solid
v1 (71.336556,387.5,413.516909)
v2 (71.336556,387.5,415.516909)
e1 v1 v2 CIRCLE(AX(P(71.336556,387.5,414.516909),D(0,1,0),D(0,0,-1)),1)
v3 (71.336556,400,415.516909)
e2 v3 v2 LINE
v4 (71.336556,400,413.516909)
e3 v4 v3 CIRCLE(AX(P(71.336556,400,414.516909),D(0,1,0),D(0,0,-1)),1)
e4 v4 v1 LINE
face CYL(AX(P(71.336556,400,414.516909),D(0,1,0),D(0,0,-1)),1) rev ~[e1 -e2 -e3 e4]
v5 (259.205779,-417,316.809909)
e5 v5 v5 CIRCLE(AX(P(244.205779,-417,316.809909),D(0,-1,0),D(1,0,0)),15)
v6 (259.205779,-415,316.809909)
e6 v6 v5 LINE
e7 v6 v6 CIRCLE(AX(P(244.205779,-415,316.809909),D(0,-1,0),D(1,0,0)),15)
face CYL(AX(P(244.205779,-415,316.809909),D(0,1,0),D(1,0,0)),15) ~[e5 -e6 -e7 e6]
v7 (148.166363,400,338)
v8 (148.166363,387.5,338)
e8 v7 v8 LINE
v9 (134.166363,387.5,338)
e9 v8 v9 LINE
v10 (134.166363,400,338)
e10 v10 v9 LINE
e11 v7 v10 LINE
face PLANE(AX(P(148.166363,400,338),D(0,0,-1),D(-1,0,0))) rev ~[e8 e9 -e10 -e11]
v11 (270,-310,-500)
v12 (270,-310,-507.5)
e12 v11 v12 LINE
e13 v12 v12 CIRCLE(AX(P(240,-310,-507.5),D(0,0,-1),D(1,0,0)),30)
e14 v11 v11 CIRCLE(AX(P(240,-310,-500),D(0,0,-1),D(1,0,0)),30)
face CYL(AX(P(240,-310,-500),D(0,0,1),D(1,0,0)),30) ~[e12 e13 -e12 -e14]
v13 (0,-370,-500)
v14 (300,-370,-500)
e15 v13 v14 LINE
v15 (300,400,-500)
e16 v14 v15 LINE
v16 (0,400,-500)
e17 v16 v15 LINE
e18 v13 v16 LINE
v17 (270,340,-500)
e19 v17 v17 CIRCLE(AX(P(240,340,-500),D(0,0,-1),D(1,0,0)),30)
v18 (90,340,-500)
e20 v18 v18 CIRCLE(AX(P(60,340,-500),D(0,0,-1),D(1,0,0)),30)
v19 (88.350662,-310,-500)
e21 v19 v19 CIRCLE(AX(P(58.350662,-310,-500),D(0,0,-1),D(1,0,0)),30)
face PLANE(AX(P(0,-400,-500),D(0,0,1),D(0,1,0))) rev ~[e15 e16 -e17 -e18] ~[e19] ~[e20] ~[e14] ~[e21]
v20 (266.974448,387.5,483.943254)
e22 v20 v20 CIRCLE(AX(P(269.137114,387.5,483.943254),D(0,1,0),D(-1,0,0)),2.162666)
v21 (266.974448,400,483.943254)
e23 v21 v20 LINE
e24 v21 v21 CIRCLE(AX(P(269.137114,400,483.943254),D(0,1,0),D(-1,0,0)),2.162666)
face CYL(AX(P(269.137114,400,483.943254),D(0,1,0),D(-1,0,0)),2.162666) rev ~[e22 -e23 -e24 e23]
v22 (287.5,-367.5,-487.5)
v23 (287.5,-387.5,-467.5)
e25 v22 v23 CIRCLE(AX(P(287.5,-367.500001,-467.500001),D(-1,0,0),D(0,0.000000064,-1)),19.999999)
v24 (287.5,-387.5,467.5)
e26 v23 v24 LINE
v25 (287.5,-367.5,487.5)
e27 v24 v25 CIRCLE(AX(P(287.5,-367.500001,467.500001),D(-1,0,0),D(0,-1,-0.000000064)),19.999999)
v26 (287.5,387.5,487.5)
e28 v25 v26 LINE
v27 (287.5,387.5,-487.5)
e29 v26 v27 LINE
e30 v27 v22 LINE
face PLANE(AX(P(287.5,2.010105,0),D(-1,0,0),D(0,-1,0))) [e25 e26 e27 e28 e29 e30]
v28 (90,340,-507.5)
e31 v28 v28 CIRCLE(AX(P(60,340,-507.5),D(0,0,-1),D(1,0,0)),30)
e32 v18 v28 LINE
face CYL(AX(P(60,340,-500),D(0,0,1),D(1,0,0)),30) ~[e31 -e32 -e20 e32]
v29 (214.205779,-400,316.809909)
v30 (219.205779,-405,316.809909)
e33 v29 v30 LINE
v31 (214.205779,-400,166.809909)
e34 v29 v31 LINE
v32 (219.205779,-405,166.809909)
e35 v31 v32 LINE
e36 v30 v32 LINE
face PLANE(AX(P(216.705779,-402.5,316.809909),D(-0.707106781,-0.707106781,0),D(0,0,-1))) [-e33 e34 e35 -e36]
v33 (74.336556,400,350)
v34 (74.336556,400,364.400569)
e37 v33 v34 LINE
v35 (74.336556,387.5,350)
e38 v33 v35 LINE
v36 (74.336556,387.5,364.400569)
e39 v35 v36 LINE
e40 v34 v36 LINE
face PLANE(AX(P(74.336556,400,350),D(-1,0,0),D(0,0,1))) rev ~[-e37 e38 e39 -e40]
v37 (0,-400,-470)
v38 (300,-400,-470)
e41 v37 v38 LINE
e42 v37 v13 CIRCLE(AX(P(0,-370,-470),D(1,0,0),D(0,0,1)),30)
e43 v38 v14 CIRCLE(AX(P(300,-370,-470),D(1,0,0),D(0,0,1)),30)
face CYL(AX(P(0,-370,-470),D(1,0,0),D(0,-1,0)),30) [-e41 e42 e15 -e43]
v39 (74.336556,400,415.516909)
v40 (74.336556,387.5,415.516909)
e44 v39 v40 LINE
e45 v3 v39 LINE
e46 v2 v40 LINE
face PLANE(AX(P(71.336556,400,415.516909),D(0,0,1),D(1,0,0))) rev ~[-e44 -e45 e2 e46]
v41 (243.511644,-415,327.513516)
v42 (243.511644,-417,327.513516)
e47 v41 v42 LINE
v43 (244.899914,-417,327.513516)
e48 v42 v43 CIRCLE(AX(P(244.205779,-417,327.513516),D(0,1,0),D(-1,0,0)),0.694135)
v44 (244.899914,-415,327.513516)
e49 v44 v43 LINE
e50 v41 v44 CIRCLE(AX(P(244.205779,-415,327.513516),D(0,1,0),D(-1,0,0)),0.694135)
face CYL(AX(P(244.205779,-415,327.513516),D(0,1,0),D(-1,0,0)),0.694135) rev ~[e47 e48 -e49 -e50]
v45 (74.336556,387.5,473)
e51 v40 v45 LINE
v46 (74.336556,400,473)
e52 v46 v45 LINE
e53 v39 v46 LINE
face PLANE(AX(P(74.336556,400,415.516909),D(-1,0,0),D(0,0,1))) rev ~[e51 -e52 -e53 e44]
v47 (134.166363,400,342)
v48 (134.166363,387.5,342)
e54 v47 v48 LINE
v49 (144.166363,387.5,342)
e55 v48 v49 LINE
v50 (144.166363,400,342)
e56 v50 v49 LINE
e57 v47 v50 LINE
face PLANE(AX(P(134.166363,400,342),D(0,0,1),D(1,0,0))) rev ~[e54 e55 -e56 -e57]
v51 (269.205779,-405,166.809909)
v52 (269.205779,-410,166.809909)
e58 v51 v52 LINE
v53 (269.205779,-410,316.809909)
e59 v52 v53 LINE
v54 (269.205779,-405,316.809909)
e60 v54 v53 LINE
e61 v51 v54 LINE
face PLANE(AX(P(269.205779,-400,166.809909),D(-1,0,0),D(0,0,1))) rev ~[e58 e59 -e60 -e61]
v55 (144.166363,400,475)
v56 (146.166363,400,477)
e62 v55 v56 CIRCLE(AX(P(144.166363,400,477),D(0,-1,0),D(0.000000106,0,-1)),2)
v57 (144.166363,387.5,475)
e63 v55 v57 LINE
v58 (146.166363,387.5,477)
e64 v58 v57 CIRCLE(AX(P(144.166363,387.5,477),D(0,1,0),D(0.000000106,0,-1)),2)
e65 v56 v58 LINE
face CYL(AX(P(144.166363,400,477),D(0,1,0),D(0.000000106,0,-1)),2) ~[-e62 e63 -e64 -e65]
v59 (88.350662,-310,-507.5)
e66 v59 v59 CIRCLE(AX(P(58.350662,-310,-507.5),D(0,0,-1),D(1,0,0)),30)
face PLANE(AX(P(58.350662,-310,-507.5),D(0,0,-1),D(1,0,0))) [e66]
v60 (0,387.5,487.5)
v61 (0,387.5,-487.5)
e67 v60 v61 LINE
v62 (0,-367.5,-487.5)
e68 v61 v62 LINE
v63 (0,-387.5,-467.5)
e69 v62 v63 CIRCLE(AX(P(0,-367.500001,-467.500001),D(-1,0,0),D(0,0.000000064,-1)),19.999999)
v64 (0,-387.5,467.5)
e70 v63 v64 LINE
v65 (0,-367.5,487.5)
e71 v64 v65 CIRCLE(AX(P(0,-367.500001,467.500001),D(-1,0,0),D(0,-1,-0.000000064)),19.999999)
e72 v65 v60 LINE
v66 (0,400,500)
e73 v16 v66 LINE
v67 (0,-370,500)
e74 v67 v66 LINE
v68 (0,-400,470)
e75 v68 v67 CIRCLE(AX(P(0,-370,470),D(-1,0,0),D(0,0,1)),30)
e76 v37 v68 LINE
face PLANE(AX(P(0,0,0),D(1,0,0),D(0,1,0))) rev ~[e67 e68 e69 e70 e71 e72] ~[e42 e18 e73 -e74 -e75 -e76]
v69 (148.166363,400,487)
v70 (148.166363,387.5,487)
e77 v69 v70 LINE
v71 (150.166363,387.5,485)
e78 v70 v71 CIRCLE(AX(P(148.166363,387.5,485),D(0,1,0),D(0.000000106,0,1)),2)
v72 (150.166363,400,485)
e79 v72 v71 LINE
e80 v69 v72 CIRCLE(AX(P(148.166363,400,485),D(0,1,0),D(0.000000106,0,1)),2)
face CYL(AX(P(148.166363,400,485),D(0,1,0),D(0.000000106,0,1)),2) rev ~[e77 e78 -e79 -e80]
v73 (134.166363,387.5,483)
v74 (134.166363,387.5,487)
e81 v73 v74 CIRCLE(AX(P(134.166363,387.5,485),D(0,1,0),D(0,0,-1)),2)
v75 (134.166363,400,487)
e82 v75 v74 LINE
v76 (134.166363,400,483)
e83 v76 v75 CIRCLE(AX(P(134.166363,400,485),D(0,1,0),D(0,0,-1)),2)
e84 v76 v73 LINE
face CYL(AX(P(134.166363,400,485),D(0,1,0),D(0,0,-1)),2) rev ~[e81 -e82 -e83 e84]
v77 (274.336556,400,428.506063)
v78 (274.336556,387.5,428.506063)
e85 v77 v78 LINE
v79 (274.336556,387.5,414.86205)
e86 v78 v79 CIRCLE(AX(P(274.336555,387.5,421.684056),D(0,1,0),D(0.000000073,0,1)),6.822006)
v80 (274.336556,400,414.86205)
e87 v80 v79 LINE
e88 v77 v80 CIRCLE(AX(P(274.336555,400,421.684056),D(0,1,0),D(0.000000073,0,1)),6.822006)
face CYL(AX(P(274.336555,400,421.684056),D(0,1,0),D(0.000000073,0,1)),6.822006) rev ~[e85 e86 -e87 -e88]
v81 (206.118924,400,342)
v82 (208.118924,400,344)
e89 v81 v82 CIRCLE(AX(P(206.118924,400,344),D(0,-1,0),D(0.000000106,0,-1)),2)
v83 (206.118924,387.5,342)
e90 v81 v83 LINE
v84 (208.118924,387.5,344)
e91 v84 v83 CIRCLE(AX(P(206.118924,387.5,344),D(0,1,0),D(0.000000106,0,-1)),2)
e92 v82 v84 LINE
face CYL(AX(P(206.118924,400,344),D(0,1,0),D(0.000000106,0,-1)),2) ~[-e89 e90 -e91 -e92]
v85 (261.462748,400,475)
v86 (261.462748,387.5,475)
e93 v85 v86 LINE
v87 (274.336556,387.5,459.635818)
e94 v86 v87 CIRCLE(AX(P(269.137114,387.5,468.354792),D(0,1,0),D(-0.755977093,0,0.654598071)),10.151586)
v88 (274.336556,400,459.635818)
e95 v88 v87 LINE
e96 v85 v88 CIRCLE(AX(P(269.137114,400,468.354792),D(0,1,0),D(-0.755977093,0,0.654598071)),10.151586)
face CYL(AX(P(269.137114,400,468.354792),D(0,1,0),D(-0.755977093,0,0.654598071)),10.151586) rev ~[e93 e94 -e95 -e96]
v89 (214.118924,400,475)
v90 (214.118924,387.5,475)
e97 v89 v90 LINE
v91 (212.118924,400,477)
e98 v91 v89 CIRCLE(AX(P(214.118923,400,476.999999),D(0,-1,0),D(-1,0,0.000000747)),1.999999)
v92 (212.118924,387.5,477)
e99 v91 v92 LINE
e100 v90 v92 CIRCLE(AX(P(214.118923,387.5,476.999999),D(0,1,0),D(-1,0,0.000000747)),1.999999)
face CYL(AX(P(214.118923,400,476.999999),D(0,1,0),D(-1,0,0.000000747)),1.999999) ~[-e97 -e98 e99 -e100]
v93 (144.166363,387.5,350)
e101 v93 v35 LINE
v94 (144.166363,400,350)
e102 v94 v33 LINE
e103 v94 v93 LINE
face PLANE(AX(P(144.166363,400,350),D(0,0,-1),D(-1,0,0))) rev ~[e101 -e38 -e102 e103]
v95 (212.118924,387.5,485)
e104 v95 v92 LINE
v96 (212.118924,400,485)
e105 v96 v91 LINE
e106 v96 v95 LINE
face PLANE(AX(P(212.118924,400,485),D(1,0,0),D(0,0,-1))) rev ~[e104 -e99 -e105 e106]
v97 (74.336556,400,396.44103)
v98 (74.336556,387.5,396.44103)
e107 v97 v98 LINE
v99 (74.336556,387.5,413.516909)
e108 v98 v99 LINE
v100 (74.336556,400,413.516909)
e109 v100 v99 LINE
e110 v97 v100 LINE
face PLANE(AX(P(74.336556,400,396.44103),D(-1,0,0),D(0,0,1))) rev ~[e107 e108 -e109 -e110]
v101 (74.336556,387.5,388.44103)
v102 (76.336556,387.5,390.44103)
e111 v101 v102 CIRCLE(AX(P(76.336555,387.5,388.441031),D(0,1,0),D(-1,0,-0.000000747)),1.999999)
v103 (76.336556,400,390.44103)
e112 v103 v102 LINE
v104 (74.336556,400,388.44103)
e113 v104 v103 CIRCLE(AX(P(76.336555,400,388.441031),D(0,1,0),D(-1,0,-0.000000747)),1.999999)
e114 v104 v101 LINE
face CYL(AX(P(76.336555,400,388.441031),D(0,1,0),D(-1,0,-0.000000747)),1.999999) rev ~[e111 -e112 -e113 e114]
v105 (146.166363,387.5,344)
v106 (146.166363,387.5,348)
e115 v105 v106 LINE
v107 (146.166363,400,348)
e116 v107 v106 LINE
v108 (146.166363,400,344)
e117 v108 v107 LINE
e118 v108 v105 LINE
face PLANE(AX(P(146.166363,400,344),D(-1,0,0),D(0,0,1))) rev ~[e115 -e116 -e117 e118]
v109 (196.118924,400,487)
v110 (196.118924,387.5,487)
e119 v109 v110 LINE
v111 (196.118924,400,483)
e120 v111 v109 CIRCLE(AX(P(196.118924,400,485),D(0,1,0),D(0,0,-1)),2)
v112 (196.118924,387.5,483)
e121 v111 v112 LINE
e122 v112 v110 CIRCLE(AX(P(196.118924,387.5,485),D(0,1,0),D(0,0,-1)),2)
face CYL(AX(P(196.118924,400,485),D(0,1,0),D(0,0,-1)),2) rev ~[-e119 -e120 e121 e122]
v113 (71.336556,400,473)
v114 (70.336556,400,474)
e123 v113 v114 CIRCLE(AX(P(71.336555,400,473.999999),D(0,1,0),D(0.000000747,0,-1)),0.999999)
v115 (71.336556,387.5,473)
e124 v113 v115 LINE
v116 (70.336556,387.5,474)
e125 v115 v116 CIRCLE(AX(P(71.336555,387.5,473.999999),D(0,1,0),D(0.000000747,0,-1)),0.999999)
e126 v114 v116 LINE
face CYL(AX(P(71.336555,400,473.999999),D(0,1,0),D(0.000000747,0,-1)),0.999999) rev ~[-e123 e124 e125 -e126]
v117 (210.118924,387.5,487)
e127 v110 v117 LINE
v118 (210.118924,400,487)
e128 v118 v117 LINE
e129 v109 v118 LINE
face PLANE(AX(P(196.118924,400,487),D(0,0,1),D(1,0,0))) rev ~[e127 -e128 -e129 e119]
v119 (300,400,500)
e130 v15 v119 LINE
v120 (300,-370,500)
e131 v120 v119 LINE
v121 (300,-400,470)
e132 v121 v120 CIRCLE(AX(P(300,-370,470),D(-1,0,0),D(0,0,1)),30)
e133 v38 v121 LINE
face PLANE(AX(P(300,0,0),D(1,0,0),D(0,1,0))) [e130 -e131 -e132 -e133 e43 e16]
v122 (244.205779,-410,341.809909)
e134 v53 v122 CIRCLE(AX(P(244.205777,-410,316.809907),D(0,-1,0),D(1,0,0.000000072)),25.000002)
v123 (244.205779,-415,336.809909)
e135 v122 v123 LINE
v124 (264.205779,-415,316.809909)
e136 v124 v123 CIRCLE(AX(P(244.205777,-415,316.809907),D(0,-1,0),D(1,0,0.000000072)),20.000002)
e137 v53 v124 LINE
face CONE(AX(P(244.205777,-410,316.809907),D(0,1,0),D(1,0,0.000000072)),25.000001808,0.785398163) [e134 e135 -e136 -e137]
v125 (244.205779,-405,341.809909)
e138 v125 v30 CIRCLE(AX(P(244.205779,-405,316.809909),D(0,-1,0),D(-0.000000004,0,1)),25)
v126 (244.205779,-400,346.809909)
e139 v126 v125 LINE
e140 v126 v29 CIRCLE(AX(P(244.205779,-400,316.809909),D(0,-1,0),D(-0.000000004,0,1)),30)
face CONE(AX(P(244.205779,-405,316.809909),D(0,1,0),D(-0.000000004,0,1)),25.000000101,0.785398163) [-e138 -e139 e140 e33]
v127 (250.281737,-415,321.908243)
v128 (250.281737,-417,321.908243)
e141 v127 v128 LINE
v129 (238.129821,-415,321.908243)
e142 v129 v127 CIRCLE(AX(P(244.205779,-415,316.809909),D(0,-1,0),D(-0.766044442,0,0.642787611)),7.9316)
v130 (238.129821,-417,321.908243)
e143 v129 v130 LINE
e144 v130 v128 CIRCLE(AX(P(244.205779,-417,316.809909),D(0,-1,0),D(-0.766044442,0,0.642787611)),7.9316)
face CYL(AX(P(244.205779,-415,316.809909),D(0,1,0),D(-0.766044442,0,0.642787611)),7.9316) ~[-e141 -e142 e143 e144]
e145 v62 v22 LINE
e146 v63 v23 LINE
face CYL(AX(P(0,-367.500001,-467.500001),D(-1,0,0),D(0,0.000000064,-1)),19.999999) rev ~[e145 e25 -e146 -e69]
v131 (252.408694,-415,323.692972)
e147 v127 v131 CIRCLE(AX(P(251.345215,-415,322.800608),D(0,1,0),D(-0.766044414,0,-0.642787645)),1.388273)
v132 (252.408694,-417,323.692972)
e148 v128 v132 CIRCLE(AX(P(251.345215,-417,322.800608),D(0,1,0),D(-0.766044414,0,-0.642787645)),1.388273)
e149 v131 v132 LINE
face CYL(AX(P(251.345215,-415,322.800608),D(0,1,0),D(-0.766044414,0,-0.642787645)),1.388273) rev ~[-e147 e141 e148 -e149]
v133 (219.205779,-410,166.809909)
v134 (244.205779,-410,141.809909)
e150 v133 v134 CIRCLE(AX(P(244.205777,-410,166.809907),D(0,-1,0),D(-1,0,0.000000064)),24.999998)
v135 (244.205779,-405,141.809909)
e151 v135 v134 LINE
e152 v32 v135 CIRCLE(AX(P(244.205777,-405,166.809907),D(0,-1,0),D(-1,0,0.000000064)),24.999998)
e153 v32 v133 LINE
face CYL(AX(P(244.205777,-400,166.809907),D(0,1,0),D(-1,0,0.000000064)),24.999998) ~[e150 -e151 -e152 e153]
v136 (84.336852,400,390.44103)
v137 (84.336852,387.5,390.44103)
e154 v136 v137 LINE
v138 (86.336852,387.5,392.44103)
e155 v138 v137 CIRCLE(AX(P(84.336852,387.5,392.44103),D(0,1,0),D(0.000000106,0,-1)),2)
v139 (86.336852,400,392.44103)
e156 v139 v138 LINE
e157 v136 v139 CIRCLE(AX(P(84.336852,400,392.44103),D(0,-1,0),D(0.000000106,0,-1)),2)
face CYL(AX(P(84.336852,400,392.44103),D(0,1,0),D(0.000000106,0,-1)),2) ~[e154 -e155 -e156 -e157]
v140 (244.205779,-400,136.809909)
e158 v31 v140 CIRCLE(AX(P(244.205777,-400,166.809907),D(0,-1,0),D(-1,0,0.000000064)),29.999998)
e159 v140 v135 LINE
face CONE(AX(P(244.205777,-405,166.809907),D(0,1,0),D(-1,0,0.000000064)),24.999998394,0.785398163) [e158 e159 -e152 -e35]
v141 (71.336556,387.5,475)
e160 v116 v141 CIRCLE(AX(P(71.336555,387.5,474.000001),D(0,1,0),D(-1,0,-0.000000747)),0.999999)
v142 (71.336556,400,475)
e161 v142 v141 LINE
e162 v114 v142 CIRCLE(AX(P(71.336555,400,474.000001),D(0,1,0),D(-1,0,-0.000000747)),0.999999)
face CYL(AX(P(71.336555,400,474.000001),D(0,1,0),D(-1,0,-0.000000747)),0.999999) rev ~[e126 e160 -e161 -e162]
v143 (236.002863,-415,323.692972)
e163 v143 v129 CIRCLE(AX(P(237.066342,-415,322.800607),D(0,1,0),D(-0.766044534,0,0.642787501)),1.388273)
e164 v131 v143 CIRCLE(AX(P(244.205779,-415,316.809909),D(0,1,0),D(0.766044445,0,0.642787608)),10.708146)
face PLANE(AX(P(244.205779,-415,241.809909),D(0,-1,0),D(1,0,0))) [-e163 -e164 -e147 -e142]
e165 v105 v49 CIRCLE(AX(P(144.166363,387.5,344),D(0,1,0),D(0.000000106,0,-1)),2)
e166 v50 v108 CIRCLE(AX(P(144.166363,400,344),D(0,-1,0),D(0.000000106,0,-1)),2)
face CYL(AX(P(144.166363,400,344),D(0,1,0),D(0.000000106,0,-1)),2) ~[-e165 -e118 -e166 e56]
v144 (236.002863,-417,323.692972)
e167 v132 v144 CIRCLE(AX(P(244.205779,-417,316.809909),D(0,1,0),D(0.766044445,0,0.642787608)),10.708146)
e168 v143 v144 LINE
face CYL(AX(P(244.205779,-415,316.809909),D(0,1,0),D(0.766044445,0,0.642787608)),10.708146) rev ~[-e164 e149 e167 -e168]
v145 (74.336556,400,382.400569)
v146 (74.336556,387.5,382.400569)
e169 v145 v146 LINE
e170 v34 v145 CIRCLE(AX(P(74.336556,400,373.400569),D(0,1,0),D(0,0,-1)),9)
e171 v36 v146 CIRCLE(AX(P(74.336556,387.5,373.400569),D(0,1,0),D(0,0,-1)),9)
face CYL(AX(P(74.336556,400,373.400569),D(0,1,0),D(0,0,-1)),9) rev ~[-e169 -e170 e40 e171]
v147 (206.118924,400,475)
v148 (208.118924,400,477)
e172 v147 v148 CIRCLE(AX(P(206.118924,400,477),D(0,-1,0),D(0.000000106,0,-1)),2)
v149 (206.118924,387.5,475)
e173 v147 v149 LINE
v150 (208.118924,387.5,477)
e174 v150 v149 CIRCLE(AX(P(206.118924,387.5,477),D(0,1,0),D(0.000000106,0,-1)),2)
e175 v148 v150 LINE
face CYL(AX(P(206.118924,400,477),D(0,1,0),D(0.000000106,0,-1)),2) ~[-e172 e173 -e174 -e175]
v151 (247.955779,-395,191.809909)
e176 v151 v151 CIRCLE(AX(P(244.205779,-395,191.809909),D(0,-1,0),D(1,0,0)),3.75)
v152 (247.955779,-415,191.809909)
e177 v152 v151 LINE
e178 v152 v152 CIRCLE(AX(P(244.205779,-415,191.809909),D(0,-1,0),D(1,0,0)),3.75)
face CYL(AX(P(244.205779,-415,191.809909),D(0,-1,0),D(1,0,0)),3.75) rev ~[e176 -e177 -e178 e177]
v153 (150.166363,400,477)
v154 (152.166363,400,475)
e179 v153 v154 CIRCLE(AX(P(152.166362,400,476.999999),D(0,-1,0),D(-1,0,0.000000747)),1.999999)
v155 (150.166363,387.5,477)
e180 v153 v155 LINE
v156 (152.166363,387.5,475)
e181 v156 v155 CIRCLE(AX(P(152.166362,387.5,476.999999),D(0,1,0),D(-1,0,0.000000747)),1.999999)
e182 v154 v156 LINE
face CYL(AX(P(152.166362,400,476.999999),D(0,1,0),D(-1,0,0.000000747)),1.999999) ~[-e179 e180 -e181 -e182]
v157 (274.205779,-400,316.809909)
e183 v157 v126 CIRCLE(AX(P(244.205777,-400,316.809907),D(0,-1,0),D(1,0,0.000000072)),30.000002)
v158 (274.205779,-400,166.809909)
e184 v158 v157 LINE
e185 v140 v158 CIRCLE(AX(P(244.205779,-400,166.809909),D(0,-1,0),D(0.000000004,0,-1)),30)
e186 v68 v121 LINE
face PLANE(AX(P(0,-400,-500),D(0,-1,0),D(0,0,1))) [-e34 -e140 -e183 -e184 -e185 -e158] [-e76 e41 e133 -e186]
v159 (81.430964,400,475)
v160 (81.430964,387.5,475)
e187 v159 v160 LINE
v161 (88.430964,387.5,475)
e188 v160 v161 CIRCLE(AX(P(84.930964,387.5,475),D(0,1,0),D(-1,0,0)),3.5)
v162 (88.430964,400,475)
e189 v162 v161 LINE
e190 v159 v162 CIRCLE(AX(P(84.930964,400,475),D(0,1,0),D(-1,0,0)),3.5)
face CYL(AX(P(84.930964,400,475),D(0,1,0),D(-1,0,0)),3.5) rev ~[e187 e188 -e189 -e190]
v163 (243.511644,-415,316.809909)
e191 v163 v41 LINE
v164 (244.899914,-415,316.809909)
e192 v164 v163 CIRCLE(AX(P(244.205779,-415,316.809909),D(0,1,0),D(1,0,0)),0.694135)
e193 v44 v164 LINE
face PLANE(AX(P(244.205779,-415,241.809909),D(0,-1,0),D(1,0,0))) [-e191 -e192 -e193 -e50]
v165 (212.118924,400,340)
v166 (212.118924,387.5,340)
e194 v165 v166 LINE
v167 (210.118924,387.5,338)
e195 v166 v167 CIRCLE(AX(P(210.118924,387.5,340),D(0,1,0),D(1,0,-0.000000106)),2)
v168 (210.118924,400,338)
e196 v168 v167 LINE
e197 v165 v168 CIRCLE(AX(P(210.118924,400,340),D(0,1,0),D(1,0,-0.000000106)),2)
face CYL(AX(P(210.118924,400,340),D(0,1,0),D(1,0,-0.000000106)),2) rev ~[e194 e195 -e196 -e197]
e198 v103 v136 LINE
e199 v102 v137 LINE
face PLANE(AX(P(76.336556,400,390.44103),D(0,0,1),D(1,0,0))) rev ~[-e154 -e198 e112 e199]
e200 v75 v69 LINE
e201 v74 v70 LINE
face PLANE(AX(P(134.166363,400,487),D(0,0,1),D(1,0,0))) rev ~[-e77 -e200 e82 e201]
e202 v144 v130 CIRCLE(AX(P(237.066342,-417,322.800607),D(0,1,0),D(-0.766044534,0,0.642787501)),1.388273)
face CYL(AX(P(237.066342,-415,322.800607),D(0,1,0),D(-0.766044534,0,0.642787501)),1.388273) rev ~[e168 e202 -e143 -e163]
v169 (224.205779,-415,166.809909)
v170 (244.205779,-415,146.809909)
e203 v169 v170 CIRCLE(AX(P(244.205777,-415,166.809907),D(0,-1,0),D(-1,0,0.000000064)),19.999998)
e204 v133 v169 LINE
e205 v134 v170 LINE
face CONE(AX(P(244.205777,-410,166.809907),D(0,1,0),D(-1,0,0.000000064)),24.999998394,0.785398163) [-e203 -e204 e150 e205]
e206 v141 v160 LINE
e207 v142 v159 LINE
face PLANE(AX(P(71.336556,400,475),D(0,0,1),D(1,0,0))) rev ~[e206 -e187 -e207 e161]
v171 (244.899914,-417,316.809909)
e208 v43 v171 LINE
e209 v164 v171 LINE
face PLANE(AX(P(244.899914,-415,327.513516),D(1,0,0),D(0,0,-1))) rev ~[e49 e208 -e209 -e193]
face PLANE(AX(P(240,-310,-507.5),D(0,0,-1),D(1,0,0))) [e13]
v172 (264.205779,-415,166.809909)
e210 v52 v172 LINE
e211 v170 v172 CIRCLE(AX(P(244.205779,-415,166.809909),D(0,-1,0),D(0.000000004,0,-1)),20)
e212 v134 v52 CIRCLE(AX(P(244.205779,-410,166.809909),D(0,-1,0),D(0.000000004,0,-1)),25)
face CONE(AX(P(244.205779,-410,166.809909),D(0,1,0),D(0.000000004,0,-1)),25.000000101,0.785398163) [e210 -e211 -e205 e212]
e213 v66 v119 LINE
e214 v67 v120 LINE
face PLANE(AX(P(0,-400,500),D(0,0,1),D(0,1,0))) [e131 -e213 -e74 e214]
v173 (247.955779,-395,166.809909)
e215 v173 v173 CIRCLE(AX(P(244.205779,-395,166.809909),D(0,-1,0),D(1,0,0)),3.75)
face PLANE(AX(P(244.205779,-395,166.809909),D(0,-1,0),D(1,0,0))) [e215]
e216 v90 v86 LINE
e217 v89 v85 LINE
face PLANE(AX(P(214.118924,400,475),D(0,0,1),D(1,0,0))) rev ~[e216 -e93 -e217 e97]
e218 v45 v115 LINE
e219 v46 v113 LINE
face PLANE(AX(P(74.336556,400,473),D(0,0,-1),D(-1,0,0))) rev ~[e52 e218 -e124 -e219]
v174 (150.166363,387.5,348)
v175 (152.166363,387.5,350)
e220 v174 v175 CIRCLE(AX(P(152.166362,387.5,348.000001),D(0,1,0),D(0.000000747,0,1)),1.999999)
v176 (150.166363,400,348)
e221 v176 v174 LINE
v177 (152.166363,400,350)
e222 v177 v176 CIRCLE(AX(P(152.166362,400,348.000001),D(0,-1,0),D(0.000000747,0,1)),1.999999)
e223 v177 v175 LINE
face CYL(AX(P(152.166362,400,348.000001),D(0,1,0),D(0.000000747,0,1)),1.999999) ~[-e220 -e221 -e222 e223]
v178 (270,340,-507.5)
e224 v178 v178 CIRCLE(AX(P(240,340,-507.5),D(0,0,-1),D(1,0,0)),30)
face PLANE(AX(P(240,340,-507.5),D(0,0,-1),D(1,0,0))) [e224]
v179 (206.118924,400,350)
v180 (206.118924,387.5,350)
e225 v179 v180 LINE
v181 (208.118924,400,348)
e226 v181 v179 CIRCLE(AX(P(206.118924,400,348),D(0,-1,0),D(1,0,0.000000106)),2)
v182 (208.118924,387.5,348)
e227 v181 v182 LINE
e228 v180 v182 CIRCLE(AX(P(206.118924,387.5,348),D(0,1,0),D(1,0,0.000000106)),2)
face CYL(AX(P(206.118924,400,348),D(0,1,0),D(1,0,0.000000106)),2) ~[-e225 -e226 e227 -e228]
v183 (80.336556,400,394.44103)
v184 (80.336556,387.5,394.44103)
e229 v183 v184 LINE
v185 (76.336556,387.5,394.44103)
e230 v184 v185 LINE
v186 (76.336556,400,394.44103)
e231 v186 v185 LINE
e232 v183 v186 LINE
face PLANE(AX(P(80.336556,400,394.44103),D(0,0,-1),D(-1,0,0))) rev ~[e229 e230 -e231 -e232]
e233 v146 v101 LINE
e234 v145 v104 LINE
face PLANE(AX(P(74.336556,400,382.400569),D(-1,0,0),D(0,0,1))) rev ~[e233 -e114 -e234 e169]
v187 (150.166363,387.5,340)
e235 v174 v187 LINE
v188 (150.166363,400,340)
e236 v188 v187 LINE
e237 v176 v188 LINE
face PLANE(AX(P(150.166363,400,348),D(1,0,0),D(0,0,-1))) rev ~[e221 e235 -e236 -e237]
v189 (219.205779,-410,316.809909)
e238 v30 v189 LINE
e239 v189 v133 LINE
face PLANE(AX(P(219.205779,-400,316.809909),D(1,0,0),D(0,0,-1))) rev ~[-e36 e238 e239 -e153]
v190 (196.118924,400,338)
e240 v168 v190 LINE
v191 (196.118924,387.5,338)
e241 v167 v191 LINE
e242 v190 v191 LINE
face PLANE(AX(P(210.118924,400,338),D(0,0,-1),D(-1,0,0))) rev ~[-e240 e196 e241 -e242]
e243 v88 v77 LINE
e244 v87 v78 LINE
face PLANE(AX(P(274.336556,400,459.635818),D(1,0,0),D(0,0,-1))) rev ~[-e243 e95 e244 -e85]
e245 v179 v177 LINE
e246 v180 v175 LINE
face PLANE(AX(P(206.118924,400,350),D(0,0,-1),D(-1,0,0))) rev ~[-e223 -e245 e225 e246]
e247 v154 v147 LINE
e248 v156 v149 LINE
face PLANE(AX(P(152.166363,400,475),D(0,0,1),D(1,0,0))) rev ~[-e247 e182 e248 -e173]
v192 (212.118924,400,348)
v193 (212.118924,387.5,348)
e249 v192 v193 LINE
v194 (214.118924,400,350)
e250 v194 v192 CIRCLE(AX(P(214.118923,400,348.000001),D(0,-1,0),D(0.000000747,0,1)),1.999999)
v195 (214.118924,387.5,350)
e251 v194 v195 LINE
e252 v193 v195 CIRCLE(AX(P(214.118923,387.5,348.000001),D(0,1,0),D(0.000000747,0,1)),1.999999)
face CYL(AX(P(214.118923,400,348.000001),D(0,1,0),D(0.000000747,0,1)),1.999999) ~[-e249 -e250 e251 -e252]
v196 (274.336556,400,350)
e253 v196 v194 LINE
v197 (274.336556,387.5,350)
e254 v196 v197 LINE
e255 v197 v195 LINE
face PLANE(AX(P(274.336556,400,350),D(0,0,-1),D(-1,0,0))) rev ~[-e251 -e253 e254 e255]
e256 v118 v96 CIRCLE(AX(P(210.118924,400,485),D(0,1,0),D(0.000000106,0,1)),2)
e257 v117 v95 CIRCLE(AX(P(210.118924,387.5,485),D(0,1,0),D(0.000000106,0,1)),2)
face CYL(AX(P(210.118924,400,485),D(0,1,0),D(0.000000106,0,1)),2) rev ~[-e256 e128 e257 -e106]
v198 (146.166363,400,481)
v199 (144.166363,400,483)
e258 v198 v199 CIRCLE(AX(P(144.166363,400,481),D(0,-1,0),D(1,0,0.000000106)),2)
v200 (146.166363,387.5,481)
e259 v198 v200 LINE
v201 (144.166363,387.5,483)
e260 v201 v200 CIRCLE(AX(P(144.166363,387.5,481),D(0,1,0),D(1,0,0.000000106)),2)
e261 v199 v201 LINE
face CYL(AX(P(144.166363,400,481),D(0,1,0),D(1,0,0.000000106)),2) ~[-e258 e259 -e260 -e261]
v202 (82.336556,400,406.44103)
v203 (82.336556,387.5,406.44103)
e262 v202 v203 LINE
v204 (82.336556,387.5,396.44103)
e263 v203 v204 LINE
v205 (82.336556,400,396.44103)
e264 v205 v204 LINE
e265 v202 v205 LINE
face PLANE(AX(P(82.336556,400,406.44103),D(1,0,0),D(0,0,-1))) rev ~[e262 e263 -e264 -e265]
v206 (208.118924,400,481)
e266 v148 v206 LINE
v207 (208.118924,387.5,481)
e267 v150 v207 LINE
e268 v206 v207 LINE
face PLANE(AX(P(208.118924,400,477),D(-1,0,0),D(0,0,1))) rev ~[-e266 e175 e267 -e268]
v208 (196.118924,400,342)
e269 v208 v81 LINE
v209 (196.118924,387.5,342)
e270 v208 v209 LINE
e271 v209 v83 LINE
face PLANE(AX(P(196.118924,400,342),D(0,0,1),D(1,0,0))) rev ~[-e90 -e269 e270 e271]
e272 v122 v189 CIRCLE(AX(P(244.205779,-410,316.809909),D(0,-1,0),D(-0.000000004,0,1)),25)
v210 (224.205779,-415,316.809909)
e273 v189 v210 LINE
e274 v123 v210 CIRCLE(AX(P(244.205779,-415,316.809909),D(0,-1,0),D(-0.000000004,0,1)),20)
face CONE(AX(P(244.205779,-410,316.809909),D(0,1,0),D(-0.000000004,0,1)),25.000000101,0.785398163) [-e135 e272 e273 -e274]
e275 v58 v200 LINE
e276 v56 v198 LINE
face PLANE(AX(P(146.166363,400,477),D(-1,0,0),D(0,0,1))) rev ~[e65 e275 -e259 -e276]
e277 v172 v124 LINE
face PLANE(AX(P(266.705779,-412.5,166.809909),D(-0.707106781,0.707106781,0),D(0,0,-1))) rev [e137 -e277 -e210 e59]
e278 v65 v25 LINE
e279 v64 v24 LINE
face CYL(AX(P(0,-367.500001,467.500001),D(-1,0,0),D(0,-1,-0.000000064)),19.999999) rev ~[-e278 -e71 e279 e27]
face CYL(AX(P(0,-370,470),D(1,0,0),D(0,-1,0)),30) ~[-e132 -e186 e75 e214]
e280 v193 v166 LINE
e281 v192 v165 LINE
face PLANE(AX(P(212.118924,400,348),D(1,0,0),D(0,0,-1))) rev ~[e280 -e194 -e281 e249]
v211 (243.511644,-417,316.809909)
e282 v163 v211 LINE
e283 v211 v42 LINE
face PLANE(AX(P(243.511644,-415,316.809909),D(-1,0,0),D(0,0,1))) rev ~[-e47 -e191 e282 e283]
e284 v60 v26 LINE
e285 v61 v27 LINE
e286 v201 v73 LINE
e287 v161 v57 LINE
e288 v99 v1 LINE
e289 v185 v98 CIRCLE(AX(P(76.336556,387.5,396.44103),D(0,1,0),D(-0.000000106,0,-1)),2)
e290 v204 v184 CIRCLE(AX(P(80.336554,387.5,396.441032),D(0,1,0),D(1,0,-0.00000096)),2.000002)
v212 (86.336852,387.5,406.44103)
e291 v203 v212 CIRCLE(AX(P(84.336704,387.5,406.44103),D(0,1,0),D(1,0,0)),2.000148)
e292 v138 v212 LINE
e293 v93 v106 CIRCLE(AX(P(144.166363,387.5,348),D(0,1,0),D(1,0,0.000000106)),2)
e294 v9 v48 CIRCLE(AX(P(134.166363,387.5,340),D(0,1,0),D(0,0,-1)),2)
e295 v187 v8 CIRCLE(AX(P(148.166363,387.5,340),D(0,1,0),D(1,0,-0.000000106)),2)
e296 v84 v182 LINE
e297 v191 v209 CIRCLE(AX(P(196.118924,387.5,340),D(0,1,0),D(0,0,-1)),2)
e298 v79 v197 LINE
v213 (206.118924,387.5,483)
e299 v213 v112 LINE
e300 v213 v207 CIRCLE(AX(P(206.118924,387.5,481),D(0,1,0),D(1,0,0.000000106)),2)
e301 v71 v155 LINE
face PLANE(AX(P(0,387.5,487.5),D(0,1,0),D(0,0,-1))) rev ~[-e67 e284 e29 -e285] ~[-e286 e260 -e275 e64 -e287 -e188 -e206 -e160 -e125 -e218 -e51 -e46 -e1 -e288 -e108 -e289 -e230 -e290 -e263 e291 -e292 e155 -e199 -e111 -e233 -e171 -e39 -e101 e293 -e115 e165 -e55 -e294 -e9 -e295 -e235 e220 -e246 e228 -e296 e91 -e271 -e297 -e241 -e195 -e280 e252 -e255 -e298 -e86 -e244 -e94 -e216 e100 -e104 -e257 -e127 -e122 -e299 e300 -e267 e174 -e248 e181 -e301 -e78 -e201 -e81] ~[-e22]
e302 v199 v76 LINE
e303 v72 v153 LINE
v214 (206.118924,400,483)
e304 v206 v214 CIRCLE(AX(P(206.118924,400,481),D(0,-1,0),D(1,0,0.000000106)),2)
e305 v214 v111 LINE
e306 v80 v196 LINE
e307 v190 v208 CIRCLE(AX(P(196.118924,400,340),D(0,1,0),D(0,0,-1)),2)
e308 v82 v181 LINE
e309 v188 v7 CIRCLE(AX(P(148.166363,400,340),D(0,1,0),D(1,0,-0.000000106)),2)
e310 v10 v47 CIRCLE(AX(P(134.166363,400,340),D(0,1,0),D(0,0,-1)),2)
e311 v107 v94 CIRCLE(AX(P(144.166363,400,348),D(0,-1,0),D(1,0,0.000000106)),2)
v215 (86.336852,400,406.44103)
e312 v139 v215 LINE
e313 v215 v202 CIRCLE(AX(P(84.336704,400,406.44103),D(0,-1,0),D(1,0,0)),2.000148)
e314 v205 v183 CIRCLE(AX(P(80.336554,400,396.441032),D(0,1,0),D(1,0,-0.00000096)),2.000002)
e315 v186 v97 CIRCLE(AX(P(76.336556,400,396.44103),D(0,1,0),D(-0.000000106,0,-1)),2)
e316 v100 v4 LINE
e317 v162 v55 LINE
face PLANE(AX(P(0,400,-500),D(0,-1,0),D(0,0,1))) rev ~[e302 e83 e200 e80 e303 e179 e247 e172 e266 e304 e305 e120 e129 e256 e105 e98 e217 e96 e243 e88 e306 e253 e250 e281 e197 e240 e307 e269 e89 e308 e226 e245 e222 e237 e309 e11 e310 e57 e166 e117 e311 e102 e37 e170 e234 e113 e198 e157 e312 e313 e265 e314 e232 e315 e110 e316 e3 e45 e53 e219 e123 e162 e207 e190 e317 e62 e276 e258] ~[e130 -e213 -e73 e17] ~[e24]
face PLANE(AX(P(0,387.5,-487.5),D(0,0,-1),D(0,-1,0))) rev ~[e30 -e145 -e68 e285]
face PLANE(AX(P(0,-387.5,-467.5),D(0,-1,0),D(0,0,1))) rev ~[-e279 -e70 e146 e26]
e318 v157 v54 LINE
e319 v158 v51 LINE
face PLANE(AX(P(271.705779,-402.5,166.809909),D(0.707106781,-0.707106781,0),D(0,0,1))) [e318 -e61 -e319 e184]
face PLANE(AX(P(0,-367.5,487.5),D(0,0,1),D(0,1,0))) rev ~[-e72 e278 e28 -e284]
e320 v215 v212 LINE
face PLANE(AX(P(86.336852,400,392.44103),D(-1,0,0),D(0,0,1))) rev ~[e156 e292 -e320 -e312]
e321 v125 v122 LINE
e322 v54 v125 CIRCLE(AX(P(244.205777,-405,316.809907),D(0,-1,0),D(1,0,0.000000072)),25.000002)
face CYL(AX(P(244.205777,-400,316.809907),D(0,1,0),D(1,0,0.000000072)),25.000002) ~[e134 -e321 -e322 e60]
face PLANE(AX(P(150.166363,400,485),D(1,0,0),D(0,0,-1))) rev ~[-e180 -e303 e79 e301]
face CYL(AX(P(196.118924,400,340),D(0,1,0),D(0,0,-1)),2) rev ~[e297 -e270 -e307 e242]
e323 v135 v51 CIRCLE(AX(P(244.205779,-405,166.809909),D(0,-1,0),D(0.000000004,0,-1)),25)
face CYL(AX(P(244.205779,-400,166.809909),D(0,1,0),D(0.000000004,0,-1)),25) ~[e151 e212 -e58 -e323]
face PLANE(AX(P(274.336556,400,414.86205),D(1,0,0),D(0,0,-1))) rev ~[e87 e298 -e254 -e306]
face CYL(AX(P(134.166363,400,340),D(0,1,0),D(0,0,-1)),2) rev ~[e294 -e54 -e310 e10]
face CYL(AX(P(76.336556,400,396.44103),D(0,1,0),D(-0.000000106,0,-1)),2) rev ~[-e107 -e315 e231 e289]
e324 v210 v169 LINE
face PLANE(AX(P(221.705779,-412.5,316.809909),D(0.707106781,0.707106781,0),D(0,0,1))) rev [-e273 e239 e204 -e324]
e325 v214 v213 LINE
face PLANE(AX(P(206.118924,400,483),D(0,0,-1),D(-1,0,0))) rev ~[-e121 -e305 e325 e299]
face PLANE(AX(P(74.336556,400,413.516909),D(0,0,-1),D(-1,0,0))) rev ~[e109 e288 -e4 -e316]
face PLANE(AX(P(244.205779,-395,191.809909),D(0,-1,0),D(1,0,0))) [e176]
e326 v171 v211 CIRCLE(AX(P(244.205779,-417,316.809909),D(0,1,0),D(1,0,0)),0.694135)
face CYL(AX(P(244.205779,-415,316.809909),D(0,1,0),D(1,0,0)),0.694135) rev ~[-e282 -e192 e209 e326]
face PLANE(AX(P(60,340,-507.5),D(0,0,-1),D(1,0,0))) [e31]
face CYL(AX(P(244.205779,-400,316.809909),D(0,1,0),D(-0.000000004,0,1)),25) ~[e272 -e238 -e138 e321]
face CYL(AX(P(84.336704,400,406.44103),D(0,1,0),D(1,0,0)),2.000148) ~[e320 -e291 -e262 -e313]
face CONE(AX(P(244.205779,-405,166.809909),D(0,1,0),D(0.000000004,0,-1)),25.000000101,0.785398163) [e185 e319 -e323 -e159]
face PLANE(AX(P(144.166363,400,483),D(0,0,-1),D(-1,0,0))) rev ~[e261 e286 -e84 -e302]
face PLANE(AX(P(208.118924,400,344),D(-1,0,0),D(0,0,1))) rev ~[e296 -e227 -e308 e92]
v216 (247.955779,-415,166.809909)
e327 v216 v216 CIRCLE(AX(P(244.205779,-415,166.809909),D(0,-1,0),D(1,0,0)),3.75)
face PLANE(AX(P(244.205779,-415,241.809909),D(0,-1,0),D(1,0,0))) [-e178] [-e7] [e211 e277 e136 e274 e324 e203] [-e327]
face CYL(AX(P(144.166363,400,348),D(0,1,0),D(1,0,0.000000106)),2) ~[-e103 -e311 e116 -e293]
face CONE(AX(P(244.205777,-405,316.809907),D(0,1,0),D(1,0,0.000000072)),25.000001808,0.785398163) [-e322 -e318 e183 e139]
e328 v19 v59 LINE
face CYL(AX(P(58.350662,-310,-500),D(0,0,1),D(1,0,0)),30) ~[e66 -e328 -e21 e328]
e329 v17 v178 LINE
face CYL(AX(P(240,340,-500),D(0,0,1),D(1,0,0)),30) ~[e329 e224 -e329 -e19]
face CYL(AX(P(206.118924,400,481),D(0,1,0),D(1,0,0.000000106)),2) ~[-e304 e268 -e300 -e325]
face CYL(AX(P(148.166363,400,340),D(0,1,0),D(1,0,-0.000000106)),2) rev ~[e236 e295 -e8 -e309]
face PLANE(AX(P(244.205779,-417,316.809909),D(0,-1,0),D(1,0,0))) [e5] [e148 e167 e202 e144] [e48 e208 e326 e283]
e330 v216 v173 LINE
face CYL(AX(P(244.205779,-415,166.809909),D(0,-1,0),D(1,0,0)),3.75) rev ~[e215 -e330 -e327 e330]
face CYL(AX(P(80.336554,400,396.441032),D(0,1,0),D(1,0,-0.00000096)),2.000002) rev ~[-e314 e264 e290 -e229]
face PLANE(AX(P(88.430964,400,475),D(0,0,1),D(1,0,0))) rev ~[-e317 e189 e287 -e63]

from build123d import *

# Parameters (mm, degrees)
F0_W      = 800
F0_H      = 1000
F1_DEPTH  = 300
F2_R      = 30
F4_DEPTH  = 287.5
F5_R      = 2.162666
F6_DEPTH  = 25
F8_DEPTH  = 15
F9_SIZE   = 5
F10_R     = 15
F11_DEPTH = 2
F12_R     = 3.75
F13_DEPTH = 20
F14_R     = 30
F15_DEPTH = 7.5


with BuildPart() as f1:
    # F0 (on Right) → F1 (new body)
    with BuildSketch(Plane.YZ):
        Rectangle(F0_W, F0_H)
    extrude(amount=F1_DEPTH)

    # F2
    f2_edges = [f1.edges().sort_by_distance(p)[0] for p in [
        (150, -400, 500),
        (150, -400, -500),
    ]]
    fillet(f2_edges, radius=F2_R)

    # F3 (on face) → F4 (cut)
    with BuildSketch(Plane(origin=(0, 0, 0), x_dir=(0, -1, 0), z_dir=(-1, 0, 0))):
        with BuildLine():
            Line((-387.5, 487.5), (-387.5, -487.5))
            Line((-387.5, -487.5), (367.5, -487.5))
            ThreePointArc((367.5, -487.5), (381.642136, -481.642136), (387.5, -467.5))
            Line((387.5, -467.5), (387.5, 467.5))
            ThreePointArc((387.5, 467.5), (381.642136, 481.642136), (367.5, 487.5))
            Line((367.5, 487.5), (-387.5, 487.5))
        make_face()
    extrude(amount=-F4_DEPTH, mode=Mode.SUBTRACT)

    # F5 (on face) → F6 (cut)
    with BuildSketch(Plane(origin=(0, 400, 0), x_dir=(-1, 0, 0), z_dir=(0, 1, 0))):
        with BuildLine():
            Line((-214.118924, 475), (-261.462748, 475))
            ThreePointArc((-261.462748, 475), (-276.918235, 474.874673), (-274.336556, 459.635818))
            Line((-274.336556, 459.635818), (-274.336556, 428.506063))
            ThreePointArc((-274.336556, 428.506063), (-281.158562, 421.684057), (-274.336556, 414.86205))
            Line((-274.336556, 414.86205), (-274.336556, 350))
            Line((-274.336556, 350), (-214.118924, 350))
            ThreePointArc((-214.118924, 350), (-212.70471, 349.414214), (-212.118924, 348))
            Line((-212.118924, 348), (-212.118924, 340))
            ThreePointArc((-212.118924, 340), (-211.533137, 338.585786), (-210.118924, 338))
            Line((-210.118924, 338), (-196.118924, 338))
            ThreePointArc((-196.118924, 338), (-194.118924, 340), (-196.118924, 342))
            Line((-196.118924, 342), (-206.118924, 342))
            ThreePointArc((-206.118924, 342), (-207.533137, 342.585786), (-208.118924, 344))
            Line((-208.118924, 344), (-208.118924, 348))
            ThreePointArc((-208.118924, 348), (-207.533137, 349.414214), (-206.118924, 350))
            Line((-206.118924, 350), (-152.166363, 350))
            ThreePointArc((-152.166363, 350), (-150.752149, 349.414214), (-150.166363, 348))
            Line((-150.166363, 348), (-150.166363, 340))
            ThreePointArc((-150.166363, 340), (-149.580576, 338.585786), (-148.166363, 338))
            Line((-148.166363, 338), (-134.166363, 338))
            ThreePointArc((-134.166363, 338), (-132.166363, 340), (-134.166363, 342))
            Line((-134.166363, 342), (-144.166363, 342))
            ThreePointArc((-144.166363, 342), (-145.580576, 342.585786), (-146.166363, 344))
            Line((-146.166363, 344), (-146.166363, 348))
            ThreePointArc((-146.166363, 348), (-145.580576, 349.414214), (-144.166363, 350))
            Line((-144.166363, 350), (-74.336556, 350))
            Line((-74.336556, 350), (-74.336556, 364.400569))
            ThreePointArc((-74.336556, 364.400569), (-65.336556, 373.400569), (-74.336556, 382.400569))
            Line((-74.336556, 382.400569), (-74.336556, 388.44103))
            ThreePointArc((-74.336556, 388.44103), (-74.922342, 389.855244), (-76.336556, 390.44103))
            Line((-76.336556, 390.44103), (-84.336852, 390.44103))
            ThreePointArc((-84.336852, 390.44103), (-85.751066, 391.026817), (-86.336852, 392.44103))
            Line((-86.336852, 392.44103), (-86.336852, 406.44103))
            ThreePointArc((-86.336852, 406.44103), (-84.336704, 408.441178), (-82.336556, 406.44103))
            Line((-82.336556, 406.44103), (-82.336556, 396.44103))
            ThreePointArc((-82.336556, 396.44103), (-81.750769, 395.026817), (-80.336556, 394.44103))
            Line((-80.336556, 394.44103), (-76.336556, 394.44103))
            ThreePointArc((-76.336556, 394.44103), (-74.922342, 395.026817), (-74.336556, 396.44103))
            Line((-74.336556, 396.44103), (-74.336556, 413.516909))
            Line((-74.336556, 413.516909), (-71.336556, 413.516909))
            ThreePointArc((-71.336556, 413.516909), (-70.336556, 414.516909), (-71.336556, 415.516909))
            Line((-71.336556, 415.516909), (-74.336556, 415.516909))
            Line((-74.336556, 415.516909), (-74.336556, 473))
            Line((-74.336556, 473), (-71.336556, 473))
            ThreePointArc((-71.336556, 473), (-70.629449, 473.292893), (-70.336556, 474))
            ThreePointArc((-70.336556, 474), (-70.629449, 474.707107), (-71.336556, 475))
            Line((-71.336556, 475), (-74.336556, 475))
            Line((-74.336556, 475), (-81.430964, 475))
            ThreePointArc((-81.430964, 475), (-84.930964, 478.5), (-88.430964, 475))
            Line((-88.430964, 475), (-144.166363, 475))
            ThreePointArc((-144.166363, 475), (-145.580576, 475.585786), (-146.166363, 477))
            Line((-146.166363, 477), (-146.166363, 481))
            ThreePointArc((-146.166363, 481), (-145.580576, 482.414214), (-144.166363, 483))
            Line((-144.166363, 483), (-134.166363, 483))
            ThreePointArc((-134.166363, 483), (-132.166363, 485), (-134.166363, 487))
            Line((-134.166363, 487), (-148.166363, 487))
            ThreePointArc((-148.166363, 487), (-149.580576, 486.414214), (-150.166363, 485))
            Line((-150.166363, 485), (-150.166363, 477))
            ThreePointArc((-150.166363, 477), (-150.752149, 475.585786), (-152.166363, 475))
            Line((-152.166363, 475), (-206.118924, 475))
            ThreePointArc((-206.118924, 475), (-207.533137, 475.585786), (-208.118924, 477))
            Line((-208.118924, 477), (-208.118924, 481))
            ThreePointArc((-208.118924, 481), (-207.533137, 482.414214), (-206.118924, 483))
            Line((-206.118924, 483), (-196.118924, 483))
            ThreePointArc((-196.118924, 483), (-194.118924, 485), (-196.118924, 487))
            Line((-196.118924, 487), (-210.118924, 487))
            ThreePointArc((-210.118924, 487), (-211.533137, 486.414214), (-212.118924, 485))
            Line((-212.118924, 485), (-212.118924, 477))
            ThreePointArc((-212.118924, 477), (-212.70471, 475.585786), (-214.118924, 475))
        make_face()
        with Locations((-269.137114, 483.943254)):
            Circle(F5_R)
    extrude(amount=-F6_DEPTH, mode=Mode.SUBTRACT)

    # F7 (on face) → F8 (join)
    with BuildSketch(Plane.XZ.offset(400)):
        with BuildLine():
            ThreePointArc((244.205779, 341.809909), (226.528109, 334.487578), (219.205779, 316.809909))
            Line((219.205779, 316.809909), (219.205779, 166.809909))
            ThreePointArc((219.205779, 166.809909), (226.528109, 149.132239), (244.205779, 141.809909))
            ThreePointArc((244.205779, 141.809909), (261.883448, 149.132239), (269.205779, 166.809909))
            Line((269.205779, 166.809909), (269.205779, 316.809909))
            ThreePointArc((269.205779, 316.809909), (261.883448, 334.487578), (244.205779, 341.809909))
        make_face()
    extrude(amount=F8_DEPTH)

    # F9
    f9_edges = [f1.edges().sort_by_distance(p)[0] for p in [
        (219.205779, -407.5, 316.809909),
        (219.205779, -407.5, 166.809909),
        (219.205779, -400, 241.809909),
        (219.205779, -415, 241.809909),
    ]]
    chamfer(f9_edges, length=F9_SIZE)

    # F10 (on face) → F11 (join)
    with BuildSketch(Plane.XZ.offset(415)):
        with Locations((244.205779, 316.809909)):
            Circle(F10_R)
        with BuildLine():
            ThreePointArc((236.002863, 323.692972), (237.958707, 323.864086), (238.129821, 321.908243))
            ThreePointArc((238.129821, 321.908243), (244.205779, 308.878309), (250.281737, 321.908243))
            ThreePointArc((250.281737, 321.908243), (250.452851, 323.864086), (252.408694, 323.692972))
            ThreePointArc((252.408694, 323.692972), (244.205779, 306.101763), (236.002863, 323.692972))
        make_face(mode=Mode.SUBTRACT)
        with BuildLine():
            ThreePointArc((244.899914, 316.809909), (244.205779, 316.115774), (243.511644, 316.809909))
            Line((243.511644, 316.809909), (243.511644, 327.513516))
            ThreePointArc((243.511644, 327.513516), (244.205779, 328.207651), (244.899914, 327.513516))
            Line((244.899914, 327.513516), (244.899914, 316.809909))
        make_face(mode=Mode.SUBTRACT)
    extrude(amount=F11_DEPTH)

    # F12 (on face) → F13 (cut)
    with BuildSketch(Plane.XZ.offset(415)):
        with Locations((244.205779, 191.809909)):
            Circle(F12_R)
        with Locations((244.205779, 166.809909)):
            Circle(F12_R)
    extrude(amount=-F13_DEPTH, mode=Mode.SUBTRACT)

    # F14 (on face) → F15 (join)
    with BuildSketch(Plane(origin=(0, 0, -500), x_dir=(1, 0, 0), z_dir=(0, 0, -1))):
        with Locations((240, -340)):
            Circle(F14_R)
        with Locations((60, -340)):
            Circle(F14_R)
        with Locations((240, 310)):
            Circle(F14_R)
        with Locations((58.350662, 310)):
            Circle(F14_R)
    extrude(amount=F15_DEPTH)


solid = f1.part
